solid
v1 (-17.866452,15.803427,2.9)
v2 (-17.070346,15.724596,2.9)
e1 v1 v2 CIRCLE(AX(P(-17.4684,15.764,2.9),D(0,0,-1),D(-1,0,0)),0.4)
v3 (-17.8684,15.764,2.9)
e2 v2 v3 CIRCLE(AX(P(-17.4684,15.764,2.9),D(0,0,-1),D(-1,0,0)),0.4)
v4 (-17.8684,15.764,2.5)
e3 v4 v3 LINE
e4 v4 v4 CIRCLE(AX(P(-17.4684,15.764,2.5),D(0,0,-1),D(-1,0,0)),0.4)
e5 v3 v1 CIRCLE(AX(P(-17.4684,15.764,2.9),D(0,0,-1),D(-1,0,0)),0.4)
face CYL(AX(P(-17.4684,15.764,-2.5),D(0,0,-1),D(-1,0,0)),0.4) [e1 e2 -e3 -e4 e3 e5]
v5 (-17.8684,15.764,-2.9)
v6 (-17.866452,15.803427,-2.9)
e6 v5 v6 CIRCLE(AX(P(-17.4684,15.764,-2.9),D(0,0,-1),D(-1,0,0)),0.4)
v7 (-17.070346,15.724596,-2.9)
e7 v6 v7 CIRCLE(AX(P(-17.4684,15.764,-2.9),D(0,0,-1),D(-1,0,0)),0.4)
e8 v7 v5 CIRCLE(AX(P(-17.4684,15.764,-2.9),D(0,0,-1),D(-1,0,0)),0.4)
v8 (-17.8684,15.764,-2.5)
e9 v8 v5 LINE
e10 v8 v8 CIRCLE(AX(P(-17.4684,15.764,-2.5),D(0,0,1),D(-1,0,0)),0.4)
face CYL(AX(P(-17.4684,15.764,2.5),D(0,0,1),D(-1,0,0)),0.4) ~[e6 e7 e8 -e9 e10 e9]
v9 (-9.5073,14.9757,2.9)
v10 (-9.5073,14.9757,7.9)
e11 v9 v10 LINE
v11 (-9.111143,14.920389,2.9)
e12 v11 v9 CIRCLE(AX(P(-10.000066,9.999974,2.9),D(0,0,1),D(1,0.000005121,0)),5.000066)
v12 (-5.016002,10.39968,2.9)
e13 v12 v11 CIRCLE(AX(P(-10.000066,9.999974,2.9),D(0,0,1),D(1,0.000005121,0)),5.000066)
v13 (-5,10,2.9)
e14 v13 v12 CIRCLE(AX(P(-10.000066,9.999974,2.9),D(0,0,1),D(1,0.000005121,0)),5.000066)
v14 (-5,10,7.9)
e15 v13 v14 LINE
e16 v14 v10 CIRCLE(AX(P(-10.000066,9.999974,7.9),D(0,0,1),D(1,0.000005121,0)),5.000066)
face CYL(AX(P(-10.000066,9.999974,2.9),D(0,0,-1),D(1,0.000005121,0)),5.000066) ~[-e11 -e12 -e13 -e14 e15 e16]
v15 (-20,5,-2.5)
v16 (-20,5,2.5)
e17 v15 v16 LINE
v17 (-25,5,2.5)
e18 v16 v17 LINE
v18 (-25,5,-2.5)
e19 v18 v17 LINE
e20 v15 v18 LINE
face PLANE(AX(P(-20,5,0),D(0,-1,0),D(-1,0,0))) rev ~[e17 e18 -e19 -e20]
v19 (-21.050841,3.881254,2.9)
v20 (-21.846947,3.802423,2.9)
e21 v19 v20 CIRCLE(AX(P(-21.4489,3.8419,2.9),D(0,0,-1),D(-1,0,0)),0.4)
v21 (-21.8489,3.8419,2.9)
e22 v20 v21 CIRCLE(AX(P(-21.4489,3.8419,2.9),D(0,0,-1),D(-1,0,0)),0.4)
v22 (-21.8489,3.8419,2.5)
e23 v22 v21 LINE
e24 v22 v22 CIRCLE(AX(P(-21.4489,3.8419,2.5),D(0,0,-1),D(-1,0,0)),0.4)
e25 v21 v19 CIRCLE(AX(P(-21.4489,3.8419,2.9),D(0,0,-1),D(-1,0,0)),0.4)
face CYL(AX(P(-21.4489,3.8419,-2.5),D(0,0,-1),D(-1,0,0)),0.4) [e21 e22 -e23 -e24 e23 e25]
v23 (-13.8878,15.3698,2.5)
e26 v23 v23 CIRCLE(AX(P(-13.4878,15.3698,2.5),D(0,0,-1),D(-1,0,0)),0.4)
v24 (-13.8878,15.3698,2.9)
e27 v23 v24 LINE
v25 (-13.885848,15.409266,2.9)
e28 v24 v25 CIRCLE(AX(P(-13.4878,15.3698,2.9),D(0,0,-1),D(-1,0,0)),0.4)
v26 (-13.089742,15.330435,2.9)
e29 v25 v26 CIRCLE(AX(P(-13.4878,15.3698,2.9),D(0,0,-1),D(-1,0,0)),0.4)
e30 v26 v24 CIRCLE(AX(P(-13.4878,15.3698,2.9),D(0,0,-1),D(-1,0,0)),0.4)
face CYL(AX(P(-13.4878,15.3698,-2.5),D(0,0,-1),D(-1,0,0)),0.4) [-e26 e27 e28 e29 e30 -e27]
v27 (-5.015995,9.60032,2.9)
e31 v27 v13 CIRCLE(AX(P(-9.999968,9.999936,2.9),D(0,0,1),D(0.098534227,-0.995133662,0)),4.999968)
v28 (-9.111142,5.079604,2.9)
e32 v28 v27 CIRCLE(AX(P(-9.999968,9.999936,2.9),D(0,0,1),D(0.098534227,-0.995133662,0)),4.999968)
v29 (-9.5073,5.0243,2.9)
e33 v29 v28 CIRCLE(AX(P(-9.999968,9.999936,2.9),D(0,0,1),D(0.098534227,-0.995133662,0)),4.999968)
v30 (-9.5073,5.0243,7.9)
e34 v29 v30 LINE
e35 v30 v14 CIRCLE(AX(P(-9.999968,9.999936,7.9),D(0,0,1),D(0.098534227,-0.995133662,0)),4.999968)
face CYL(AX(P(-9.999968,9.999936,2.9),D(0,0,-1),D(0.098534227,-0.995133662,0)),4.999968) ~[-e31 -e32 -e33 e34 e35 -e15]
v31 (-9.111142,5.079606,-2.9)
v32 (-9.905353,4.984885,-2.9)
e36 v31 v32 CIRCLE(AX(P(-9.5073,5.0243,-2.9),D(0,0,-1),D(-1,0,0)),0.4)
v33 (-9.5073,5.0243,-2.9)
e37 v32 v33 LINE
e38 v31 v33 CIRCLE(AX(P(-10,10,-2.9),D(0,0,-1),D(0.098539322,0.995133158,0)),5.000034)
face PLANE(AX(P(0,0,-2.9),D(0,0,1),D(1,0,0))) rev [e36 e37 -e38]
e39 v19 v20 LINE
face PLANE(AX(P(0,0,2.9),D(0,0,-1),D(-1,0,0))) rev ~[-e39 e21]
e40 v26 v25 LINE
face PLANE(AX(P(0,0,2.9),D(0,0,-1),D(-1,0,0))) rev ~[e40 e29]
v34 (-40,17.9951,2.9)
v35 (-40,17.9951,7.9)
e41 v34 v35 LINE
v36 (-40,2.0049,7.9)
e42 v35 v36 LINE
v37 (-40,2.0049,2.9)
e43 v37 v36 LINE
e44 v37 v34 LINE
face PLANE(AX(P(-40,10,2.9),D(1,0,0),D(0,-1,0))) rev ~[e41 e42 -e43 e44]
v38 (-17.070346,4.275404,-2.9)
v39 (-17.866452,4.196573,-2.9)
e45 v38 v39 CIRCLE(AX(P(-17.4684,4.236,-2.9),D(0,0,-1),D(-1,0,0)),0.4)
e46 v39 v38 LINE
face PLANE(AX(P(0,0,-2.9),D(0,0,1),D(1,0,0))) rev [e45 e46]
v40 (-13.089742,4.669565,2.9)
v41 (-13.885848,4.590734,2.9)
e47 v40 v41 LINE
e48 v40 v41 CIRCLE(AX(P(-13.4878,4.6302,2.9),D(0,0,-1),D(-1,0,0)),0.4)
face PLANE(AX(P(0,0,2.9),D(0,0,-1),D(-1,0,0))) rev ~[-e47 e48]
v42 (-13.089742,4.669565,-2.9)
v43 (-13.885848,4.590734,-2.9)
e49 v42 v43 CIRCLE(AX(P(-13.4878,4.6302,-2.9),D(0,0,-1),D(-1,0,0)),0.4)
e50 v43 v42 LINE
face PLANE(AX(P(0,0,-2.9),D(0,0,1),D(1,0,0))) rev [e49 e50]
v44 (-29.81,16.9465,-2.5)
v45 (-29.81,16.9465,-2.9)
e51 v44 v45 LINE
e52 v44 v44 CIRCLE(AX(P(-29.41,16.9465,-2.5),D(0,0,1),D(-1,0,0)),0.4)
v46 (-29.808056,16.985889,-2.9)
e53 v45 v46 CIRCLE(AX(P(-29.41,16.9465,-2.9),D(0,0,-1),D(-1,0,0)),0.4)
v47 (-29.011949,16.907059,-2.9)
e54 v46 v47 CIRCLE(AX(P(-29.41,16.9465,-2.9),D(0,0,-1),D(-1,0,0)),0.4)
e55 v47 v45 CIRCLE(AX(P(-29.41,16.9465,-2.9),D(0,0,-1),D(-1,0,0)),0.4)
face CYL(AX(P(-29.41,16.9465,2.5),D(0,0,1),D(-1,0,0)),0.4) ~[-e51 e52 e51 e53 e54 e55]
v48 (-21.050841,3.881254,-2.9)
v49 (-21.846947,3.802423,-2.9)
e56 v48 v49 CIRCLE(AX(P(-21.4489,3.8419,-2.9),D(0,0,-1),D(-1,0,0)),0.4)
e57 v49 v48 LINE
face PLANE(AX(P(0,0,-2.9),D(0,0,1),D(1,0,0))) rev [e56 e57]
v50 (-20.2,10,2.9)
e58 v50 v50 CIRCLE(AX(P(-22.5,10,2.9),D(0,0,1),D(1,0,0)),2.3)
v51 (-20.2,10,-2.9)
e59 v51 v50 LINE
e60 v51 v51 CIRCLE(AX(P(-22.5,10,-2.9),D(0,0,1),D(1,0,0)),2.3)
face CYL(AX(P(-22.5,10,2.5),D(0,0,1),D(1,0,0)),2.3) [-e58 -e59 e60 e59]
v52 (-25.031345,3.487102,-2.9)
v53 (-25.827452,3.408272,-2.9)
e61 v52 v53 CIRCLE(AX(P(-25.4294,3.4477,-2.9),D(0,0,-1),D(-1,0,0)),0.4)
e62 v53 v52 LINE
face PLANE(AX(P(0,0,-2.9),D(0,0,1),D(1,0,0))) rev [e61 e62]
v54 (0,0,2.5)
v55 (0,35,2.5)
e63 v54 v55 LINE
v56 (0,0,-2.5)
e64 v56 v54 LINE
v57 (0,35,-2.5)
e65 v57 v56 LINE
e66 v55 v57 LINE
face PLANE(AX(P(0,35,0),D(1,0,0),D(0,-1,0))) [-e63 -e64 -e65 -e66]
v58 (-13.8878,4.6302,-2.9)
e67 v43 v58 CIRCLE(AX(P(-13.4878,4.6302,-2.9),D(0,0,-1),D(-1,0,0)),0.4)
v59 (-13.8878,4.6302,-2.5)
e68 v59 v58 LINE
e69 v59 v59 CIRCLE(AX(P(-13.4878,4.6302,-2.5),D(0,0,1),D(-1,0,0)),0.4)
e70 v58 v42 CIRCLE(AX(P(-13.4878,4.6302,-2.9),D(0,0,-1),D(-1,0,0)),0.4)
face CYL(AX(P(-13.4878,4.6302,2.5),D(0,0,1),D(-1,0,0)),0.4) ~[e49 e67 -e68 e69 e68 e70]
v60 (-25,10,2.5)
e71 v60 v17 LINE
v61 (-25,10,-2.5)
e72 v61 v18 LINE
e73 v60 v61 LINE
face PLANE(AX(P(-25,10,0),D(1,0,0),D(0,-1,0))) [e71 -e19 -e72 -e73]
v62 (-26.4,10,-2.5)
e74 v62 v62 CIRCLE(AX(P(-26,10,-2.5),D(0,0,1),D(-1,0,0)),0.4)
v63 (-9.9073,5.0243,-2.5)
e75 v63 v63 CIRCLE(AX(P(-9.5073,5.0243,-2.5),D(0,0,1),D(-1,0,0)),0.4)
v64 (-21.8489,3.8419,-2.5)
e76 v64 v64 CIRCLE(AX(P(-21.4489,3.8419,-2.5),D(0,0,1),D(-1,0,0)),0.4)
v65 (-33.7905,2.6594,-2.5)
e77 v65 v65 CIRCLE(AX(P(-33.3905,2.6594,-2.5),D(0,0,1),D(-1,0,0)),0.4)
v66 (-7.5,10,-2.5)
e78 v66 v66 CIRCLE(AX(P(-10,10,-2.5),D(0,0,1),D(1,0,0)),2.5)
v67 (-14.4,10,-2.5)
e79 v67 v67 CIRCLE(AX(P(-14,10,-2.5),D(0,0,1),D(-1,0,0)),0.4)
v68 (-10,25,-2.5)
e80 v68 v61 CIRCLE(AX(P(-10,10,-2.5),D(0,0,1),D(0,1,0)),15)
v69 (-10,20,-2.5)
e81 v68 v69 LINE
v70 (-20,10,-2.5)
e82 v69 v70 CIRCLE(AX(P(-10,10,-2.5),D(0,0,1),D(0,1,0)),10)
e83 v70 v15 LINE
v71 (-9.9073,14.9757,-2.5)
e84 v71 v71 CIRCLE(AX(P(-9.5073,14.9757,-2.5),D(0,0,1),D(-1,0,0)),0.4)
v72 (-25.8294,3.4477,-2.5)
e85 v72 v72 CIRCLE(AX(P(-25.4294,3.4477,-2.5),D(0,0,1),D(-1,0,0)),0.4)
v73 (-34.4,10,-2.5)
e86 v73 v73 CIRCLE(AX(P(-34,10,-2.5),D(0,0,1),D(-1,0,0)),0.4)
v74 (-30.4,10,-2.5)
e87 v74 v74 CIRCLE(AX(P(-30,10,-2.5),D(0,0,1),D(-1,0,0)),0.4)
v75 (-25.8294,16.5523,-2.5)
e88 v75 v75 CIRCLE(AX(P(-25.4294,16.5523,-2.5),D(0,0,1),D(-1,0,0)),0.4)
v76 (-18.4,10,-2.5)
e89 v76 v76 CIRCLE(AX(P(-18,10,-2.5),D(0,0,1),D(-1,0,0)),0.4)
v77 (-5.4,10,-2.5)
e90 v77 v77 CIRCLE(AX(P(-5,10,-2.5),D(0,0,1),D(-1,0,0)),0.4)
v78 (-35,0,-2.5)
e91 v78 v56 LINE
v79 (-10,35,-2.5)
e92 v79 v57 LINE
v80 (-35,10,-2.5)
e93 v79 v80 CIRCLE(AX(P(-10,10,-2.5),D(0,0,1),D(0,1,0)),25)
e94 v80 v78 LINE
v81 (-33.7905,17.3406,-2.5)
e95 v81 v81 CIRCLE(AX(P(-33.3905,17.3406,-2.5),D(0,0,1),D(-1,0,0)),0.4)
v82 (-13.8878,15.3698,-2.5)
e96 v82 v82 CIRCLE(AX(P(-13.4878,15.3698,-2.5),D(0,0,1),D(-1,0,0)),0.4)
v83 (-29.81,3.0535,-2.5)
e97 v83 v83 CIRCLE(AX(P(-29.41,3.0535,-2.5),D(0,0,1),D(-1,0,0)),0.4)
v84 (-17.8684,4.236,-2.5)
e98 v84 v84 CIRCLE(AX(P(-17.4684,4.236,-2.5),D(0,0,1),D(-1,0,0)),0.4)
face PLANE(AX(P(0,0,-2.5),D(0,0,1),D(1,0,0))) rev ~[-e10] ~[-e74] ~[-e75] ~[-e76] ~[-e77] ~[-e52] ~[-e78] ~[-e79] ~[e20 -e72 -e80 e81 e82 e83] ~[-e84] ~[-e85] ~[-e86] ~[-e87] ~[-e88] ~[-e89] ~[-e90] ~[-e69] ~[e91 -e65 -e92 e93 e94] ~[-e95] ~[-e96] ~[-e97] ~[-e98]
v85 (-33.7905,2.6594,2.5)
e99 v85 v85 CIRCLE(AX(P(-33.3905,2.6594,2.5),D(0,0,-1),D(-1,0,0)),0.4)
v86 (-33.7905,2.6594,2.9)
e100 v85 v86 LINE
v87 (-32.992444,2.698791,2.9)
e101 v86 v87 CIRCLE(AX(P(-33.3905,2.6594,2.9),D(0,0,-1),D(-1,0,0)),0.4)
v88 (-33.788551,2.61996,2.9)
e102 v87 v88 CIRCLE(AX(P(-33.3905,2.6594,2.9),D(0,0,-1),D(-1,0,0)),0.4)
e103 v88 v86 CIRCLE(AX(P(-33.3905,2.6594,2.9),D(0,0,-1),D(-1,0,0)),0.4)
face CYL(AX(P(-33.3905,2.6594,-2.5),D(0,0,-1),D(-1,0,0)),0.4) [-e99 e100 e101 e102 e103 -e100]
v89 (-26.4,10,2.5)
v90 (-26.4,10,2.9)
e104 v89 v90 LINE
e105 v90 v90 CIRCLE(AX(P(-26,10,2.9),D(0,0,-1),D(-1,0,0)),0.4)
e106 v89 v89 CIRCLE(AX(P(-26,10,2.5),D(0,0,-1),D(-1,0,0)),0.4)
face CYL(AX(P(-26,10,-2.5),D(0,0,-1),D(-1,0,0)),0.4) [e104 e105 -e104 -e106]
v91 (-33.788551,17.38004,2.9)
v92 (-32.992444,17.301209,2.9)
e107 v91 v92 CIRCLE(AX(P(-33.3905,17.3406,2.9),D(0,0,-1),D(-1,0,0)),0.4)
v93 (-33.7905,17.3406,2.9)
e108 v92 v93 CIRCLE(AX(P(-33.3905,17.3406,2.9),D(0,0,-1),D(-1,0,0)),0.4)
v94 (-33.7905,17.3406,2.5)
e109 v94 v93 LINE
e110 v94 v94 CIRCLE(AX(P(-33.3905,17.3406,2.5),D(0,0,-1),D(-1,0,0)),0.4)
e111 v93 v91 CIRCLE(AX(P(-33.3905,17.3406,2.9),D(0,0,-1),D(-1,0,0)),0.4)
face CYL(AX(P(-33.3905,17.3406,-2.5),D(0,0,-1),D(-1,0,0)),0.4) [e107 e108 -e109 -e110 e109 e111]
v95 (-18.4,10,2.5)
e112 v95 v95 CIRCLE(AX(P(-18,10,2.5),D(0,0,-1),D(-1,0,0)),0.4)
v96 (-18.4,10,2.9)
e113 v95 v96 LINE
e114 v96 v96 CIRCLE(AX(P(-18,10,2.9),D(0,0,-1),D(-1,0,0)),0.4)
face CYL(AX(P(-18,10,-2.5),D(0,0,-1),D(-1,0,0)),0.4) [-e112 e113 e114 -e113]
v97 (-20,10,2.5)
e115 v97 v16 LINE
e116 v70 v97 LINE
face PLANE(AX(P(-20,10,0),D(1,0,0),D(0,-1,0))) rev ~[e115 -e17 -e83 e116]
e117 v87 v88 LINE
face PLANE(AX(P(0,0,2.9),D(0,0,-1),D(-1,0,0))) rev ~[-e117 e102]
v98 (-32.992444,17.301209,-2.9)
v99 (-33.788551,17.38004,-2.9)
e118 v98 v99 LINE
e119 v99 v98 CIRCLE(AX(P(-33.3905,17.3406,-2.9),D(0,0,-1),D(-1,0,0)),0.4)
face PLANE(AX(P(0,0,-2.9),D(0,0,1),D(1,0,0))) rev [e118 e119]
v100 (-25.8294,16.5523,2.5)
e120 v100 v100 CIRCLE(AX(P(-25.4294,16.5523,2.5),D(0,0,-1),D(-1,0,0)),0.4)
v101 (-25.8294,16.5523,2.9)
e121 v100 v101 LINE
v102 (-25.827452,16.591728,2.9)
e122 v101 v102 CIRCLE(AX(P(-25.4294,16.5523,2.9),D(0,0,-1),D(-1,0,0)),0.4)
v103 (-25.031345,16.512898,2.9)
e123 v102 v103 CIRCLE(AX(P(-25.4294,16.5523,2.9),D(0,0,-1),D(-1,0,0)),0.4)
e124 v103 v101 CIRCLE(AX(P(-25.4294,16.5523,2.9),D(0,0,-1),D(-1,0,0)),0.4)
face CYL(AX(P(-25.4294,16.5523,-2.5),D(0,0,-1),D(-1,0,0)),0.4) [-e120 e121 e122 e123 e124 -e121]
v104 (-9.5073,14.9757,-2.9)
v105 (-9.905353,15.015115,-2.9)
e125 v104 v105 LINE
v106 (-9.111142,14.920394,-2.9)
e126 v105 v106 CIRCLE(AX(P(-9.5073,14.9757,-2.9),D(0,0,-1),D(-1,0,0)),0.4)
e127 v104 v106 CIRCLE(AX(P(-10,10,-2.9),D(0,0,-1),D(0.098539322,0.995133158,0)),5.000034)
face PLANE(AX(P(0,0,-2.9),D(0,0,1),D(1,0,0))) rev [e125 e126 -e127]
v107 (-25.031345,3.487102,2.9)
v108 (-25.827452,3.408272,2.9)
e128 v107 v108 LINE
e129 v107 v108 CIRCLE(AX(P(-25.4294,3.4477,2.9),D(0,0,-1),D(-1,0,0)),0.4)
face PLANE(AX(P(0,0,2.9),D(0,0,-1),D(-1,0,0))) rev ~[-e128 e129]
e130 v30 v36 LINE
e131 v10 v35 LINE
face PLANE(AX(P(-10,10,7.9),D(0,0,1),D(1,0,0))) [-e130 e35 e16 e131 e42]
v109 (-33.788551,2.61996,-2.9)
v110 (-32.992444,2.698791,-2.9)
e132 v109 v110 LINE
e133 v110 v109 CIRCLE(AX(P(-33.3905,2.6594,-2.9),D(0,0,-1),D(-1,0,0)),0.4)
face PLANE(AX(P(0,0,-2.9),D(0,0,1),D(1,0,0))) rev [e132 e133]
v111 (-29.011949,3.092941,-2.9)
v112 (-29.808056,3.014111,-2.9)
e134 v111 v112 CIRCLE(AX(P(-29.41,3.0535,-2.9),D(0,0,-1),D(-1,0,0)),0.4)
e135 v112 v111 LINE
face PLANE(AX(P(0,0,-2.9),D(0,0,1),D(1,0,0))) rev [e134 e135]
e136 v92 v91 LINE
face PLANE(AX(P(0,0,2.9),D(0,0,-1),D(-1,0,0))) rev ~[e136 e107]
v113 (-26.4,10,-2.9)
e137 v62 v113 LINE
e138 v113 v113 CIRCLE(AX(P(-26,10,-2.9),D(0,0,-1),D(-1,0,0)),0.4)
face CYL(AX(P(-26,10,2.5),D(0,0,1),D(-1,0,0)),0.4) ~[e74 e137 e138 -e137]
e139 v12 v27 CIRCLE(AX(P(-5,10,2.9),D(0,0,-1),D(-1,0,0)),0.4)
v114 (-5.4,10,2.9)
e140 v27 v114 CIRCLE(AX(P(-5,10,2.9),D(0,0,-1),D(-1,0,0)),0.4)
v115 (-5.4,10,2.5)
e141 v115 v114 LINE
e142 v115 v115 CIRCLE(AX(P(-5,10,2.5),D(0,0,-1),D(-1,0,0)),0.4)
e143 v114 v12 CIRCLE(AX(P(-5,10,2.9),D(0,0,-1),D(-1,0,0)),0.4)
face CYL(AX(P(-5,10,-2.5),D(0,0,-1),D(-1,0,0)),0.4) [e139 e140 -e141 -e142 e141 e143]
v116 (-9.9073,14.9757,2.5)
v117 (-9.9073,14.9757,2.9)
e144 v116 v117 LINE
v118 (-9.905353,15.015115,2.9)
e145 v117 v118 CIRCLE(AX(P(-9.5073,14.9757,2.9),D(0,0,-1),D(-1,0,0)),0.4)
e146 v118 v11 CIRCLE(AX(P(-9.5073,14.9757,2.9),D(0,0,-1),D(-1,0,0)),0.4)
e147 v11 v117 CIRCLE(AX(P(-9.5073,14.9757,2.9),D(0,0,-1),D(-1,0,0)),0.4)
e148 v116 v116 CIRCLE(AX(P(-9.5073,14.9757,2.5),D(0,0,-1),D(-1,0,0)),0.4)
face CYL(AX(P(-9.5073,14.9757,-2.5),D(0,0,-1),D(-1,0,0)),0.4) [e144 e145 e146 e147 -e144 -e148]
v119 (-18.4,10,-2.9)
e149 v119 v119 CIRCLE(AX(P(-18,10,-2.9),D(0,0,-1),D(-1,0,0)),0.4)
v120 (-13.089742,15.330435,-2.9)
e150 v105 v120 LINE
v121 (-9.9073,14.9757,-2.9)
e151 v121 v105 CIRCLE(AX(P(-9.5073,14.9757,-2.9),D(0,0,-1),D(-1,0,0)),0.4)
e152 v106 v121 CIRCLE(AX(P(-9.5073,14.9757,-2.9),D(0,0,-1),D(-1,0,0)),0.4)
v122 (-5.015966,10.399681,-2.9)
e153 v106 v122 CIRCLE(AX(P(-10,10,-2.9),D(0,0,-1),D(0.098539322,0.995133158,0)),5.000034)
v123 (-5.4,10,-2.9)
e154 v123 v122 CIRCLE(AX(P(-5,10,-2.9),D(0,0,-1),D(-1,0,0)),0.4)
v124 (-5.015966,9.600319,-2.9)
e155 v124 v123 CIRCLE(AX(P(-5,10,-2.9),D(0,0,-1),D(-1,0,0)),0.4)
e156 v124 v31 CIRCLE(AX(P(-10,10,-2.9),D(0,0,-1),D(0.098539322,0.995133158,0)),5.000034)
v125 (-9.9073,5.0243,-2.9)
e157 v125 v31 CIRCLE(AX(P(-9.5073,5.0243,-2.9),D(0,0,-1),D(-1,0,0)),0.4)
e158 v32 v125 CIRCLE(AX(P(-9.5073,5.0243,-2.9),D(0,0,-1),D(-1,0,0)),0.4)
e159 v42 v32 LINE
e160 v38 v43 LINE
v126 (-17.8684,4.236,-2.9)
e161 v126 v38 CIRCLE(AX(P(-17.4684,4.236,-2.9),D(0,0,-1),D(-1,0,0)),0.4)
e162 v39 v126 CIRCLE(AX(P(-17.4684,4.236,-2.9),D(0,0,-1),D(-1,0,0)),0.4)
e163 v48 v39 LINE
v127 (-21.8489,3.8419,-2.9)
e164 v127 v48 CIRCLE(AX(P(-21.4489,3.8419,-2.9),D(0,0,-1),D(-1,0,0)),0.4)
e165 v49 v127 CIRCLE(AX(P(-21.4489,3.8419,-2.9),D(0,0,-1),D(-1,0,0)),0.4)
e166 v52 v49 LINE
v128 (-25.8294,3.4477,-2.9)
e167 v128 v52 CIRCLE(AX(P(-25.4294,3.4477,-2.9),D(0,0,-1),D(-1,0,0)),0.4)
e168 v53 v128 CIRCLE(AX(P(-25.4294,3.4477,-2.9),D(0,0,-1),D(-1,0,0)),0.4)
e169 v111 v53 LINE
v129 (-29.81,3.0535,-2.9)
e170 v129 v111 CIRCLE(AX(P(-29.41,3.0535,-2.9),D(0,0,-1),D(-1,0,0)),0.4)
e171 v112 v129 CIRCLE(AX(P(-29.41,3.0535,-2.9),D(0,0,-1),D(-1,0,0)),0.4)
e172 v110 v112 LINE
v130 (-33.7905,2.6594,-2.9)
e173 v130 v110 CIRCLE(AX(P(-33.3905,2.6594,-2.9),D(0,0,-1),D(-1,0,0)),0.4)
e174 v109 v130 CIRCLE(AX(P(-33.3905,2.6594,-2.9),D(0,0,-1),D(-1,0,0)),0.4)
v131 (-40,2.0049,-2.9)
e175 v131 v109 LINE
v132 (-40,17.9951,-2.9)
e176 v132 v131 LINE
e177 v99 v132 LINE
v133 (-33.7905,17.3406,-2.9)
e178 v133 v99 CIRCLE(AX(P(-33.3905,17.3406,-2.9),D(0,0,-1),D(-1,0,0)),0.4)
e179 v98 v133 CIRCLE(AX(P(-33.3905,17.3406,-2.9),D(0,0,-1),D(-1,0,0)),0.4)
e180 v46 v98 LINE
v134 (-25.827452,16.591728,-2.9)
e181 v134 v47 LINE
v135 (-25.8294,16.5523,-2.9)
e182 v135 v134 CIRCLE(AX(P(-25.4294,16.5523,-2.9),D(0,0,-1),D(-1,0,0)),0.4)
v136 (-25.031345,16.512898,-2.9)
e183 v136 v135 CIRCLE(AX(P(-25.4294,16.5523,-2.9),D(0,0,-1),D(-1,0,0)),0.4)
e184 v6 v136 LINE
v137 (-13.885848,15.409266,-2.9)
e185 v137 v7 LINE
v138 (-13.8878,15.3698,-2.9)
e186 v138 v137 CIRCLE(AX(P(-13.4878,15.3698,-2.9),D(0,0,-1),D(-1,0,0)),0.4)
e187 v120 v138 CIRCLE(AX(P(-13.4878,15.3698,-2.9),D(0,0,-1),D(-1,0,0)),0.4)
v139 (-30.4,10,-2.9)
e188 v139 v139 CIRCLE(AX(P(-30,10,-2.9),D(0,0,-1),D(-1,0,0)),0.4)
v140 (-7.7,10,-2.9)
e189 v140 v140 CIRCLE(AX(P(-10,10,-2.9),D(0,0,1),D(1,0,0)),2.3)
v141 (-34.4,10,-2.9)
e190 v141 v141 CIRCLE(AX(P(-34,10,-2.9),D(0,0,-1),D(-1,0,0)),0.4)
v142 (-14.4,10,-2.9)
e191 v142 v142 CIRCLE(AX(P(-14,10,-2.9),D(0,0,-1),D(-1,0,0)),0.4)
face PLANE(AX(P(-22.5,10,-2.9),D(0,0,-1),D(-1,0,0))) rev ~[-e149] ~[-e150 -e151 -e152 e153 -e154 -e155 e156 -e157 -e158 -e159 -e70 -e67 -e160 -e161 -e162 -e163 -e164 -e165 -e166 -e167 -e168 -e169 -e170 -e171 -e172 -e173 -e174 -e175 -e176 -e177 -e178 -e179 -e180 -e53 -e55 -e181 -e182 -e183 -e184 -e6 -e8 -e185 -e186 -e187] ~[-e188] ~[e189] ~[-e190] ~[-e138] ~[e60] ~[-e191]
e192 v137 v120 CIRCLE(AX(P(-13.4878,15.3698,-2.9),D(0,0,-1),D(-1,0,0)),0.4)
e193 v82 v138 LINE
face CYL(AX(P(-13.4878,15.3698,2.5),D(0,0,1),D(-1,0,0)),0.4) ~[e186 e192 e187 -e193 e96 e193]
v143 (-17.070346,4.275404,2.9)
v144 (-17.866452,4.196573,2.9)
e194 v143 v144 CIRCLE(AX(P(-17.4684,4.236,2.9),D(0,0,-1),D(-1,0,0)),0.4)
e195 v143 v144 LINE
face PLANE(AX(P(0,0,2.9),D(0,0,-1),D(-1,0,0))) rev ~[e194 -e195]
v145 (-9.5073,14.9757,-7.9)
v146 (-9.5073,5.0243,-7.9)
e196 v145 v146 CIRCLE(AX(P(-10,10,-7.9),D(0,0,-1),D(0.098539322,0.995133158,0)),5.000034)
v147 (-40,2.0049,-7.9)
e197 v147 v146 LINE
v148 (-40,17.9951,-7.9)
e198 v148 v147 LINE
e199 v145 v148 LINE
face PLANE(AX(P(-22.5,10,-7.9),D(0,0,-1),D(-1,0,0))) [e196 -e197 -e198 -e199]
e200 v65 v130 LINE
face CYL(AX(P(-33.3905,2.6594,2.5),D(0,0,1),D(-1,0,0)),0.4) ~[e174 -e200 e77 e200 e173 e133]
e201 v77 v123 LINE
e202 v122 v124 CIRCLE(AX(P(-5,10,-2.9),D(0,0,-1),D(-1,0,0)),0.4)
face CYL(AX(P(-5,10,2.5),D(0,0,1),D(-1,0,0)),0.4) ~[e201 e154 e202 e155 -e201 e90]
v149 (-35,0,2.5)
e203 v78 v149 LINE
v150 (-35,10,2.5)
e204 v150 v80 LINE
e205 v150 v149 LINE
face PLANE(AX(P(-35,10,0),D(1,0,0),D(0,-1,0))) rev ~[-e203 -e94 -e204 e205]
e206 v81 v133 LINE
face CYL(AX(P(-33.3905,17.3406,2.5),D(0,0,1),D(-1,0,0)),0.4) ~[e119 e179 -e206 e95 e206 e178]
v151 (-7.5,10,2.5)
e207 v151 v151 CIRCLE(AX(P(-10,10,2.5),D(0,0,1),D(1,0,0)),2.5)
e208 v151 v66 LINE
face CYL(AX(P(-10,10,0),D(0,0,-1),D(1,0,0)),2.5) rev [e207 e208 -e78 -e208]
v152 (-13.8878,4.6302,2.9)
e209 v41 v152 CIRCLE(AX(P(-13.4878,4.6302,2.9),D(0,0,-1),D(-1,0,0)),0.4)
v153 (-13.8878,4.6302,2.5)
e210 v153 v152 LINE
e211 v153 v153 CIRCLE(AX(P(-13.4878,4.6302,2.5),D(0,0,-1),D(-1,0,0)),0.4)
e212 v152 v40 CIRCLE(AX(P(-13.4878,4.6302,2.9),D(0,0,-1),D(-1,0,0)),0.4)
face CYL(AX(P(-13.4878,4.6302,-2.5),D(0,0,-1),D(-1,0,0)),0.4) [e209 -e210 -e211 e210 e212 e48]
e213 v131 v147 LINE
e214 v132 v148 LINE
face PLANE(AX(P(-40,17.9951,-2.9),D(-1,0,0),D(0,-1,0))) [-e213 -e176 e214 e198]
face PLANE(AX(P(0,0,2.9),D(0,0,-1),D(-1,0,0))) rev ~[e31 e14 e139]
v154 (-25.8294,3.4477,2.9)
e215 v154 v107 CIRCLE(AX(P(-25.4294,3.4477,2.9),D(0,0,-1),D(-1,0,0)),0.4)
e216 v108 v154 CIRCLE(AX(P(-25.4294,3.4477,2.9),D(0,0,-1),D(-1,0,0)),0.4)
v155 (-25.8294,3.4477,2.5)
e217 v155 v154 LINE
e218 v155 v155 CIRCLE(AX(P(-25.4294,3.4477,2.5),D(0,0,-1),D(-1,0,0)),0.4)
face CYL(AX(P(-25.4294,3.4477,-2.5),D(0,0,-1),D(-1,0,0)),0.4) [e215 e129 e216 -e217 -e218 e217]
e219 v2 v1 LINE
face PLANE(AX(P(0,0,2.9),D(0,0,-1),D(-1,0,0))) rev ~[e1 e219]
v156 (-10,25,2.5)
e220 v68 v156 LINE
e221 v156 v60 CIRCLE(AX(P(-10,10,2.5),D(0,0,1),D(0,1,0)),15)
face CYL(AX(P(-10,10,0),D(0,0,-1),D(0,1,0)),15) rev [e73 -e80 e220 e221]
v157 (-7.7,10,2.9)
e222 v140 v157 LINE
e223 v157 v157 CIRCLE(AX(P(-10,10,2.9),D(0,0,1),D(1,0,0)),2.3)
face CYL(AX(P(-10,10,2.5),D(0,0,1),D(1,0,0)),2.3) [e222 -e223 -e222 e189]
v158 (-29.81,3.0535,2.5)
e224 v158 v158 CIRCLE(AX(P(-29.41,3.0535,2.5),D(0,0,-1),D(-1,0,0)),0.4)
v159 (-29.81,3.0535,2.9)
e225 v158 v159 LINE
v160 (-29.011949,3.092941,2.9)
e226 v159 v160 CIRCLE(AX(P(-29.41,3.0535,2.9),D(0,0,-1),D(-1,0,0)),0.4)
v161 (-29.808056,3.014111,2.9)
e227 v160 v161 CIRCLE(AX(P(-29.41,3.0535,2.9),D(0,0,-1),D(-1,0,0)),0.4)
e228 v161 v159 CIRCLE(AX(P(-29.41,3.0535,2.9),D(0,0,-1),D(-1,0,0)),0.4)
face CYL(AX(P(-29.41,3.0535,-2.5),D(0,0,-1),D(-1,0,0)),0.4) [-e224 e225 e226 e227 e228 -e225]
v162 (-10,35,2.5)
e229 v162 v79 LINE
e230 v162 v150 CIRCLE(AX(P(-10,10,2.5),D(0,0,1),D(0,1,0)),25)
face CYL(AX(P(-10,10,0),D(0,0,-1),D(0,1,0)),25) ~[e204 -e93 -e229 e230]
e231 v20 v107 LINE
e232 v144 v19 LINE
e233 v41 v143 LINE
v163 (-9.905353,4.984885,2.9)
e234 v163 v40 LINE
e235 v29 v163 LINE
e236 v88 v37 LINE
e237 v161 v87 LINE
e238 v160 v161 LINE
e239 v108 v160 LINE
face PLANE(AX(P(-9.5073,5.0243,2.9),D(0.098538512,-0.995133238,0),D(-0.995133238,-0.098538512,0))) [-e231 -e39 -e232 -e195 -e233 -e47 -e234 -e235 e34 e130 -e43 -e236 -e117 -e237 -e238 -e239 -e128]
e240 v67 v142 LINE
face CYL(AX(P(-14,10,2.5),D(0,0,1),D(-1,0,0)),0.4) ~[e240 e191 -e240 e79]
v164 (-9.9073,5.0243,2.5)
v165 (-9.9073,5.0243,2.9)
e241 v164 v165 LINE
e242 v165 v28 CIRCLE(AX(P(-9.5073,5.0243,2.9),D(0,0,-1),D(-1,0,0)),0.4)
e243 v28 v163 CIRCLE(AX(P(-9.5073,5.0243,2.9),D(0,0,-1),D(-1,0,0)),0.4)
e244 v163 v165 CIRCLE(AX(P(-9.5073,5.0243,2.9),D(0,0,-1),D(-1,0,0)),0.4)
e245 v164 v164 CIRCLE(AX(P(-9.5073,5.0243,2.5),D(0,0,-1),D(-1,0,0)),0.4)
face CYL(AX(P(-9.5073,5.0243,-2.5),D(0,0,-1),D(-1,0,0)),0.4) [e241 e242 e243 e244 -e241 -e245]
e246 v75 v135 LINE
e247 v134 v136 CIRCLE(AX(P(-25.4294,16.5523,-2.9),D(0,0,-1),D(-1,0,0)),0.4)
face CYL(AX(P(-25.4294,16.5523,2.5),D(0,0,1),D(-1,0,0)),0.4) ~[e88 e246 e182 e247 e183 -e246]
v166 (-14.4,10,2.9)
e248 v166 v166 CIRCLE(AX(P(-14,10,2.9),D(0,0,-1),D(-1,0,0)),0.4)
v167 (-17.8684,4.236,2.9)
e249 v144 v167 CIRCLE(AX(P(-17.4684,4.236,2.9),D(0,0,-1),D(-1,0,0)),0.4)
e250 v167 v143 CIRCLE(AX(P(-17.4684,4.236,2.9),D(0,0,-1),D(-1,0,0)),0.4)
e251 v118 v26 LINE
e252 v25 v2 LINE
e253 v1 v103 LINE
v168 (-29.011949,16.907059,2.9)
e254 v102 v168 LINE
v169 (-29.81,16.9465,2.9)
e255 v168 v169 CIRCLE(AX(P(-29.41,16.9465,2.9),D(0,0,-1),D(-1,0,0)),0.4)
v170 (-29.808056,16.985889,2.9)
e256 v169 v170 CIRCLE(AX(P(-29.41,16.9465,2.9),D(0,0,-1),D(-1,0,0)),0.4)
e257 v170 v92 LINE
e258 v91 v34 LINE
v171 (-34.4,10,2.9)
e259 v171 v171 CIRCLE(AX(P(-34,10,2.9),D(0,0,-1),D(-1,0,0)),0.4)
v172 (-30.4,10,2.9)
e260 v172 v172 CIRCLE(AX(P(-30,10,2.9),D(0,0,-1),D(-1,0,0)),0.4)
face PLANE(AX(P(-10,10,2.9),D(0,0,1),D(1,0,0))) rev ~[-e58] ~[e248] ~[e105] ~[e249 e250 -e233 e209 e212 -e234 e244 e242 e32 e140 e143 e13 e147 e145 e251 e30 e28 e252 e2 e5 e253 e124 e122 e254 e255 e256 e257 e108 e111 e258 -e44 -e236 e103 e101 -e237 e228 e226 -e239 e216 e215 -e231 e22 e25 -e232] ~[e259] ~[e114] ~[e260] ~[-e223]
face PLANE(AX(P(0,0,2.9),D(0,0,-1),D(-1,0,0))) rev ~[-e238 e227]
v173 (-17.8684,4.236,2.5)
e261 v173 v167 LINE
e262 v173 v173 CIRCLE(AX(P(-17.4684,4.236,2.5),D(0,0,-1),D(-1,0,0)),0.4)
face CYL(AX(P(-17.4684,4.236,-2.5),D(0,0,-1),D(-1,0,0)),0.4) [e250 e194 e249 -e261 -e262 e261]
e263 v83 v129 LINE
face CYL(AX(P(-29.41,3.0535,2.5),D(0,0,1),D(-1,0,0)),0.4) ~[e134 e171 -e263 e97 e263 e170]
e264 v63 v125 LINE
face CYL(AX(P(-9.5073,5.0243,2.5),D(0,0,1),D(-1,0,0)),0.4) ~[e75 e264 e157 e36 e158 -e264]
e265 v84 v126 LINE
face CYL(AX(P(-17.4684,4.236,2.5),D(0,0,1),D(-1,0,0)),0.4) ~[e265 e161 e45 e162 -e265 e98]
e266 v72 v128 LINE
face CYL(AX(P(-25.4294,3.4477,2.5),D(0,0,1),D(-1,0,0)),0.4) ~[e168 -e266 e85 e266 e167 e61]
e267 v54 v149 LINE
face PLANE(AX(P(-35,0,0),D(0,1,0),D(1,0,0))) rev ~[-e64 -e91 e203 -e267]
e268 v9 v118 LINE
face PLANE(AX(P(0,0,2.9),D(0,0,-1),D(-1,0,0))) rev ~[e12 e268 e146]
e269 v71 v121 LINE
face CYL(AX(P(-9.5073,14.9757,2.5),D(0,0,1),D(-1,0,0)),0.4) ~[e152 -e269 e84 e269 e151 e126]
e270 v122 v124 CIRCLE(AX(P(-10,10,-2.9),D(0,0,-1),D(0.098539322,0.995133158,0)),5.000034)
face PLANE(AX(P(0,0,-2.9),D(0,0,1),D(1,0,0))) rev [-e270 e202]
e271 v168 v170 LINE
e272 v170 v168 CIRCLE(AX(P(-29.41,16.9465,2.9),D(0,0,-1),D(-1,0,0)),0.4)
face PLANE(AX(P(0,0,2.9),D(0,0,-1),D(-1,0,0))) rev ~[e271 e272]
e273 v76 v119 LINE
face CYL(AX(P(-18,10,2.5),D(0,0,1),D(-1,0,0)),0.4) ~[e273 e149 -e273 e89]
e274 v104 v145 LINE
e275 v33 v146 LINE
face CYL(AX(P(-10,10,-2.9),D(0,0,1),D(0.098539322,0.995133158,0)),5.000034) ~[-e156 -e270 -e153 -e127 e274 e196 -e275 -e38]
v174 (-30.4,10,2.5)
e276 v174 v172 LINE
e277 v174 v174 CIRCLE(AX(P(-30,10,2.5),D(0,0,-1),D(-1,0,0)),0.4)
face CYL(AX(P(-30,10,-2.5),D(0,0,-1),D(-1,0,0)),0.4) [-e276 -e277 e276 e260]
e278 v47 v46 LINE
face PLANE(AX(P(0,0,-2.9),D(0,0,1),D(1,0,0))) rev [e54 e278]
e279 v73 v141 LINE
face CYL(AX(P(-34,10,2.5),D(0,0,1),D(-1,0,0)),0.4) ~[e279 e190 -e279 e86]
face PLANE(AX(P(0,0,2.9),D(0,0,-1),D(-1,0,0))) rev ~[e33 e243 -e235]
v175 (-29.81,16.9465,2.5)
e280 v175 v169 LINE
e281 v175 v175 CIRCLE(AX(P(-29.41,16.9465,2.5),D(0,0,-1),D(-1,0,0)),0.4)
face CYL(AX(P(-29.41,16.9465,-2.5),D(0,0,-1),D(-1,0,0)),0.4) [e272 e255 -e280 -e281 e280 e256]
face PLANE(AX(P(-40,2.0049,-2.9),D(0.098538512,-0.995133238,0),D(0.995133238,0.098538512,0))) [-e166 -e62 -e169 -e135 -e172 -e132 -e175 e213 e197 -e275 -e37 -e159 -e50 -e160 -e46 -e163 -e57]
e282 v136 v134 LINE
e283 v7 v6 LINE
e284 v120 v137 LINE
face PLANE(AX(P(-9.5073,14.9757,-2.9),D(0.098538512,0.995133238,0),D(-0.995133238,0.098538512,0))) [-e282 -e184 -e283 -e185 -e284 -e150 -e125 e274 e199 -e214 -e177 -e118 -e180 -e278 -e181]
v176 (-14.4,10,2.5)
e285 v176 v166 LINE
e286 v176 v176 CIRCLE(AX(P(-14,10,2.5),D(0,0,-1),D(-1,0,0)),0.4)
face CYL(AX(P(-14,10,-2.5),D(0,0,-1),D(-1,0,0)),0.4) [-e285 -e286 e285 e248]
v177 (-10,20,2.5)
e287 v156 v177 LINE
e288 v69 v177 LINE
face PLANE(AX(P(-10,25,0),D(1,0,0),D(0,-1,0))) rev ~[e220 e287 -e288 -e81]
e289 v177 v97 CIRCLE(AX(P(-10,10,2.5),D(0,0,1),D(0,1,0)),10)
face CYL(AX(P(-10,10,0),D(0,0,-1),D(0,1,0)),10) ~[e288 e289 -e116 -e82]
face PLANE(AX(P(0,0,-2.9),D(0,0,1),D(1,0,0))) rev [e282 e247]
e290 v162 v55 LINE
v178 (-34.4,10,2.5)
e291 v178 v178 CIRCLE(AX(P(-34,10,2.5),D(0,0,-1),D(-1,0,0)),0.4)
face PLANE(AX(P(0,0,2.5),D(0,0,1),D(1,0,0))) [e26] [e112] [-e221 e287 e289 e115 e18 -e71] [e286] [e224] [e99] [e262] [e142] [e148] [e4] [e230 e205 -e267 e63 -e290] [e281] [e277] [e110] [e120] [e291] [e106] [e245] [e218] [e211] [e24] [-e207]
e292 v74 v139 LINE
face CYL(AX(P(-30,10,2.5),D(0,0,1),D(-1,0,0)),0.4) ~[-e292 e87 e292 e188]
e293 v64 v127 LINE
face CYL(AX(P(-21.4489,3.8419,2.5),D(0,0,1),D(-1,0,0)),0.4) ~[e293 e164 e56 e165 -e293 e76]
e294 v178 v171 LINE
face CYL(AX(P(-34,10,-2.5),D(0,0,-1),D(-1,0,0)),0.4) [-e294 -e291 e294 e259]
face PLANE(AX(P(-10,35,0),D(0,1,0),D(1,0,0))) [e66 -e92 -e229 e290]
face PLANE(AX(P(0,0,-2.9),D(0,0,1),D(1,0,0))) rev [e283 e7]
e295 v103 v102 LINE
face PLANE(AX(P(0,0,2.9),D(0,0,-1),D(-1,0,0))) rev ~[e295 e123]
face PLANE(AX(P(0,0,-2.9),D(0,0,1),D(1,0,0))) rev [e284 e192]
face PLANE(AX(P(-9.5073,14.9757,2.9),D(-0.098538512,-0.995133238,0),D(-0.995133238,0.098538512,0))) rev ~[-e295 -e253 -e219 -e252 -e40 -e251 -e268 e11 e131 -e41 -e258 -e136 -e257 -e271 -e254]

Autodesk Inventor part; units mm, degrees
ref_plane "YZ Plane" through (0, 0, 0) normal (1, 0, 0) x (0, 1, 0)
ref_plane "XZ Plane" through (0, 0, 0) normal (0, 1, 0) x (-1, 0, 0)
ref_plane "XY Plane" through (0, 0, 0) normal (0, 0, 1) x (1, 0, 0)
sketch "Boceto1" plane through (0, 0, 0) normal (0, 0, 1) x (1, 0, 0)
  line L0 (-35, 0) -> (15, 0)
  line L1 (-20, 10) -> (-20, 0)
  arc A0 (-10, 20) -> (-20, 10) centre (-10, 10) ccw
  arc A1 (-10, 25) -> (-25, 10) centre (-10, 10) ccw
  line L2 (-25, 10) -> (-25, 0)
  arc A2 (-10, 35) -> (-35, 10) centre (-10, 10) ccw
  line L3 (-35, 10) -> (-35, 0)
  line L4 (-35, 0) -> (-10, 0)
  circle A3 centre (-10, 10) radius 2.5
  line L5 (-10, 20) -> (0, 20)
  line L6 (0, 20) -> (0, 21.1803)
  line L7 (0, 25) -> (-10, 25)
  line L8 (-10, 35) -> (0, 35)
  line L9 (0, 35) -> (0, 25)
  line L10 (0, 20) -> (0, 0)
  line L11 (0, 0) -> (-10, 0)
  line L12 (0, 25) -> (0, 20)
  line L13 (-10, 25) -> (-10, 20)
  line L14 (-20, 5) -> (-25, 5)
  point P0 (0, 0)
  dimension "d0" = 20
  dimension "d1" = 25
  dimension "d2" = 10
  dimension "d3" = 10
  dimension "d4" = 5
  dimension "d6" = 35
extrude "Extrusión1" add sketch "Boceto1" along normal mid plane 5 contours L3 A2 L8 L9 L7 A1 L2 L0 | L2 L14 L1 L0 | L1 A0 L5 L10 L0 | L7 L12 L6 L5 L13
sketch "Boceto2" plane through (0, 0, 2.5) normal (0, 0, 1) x (1, 0, 0)
  circle A0 centre (-10, 10) radius 2.3
  circle A1 centre (-22.5, 10) radius 2.3
  circle A2 centre (-10, 10) radius 2.5 projected
  point P0 (0, 0)
  dimension "d9" = 4.6
  dimension "d10" = 4.6
extrude "Extrusión2" add sketch "Boceto2" along normal blind 0.4 and the other way blind 5.4 contours A0 | A1
sketch "Boceto3" plane through (-10, 10, 2.9) normal (0, 0, 1) x (1, 0, 0)
  arc A0 (5, 0) -> (0.4927, 4.9757) centre (0, 0) ccw
  line L0 (-30, 0) -> (-30, 7.9951)
  line L1 (0.4927, 4.9757) -> (-30, 7.9951)
  line L2 (-30, 0) -> (-30, -7.9951)
  line L3 (0.4927, -4.9757) -> (-30, -7.9951)
  arc A1 (0.4927, -4.9757) -> (5, 0) centre (0, 0) ccw
  circle A2 centre (0, 0) radius 2.3 projected
  point P0 (10, -10)
  dimension "d15" = 10
extrude "Extrusión3" add sketch "Boceto3" along normal blind 5 contours A1 L3 L2 L0 L1 A0 | A2
sketch "Boceto4" plane through (-22.5, 10, -2.9) normal (0, 0, -1) x (-1, 0, 0)
  circle A0 centre (0, 0) radius 2.3 projected
  circle A1 centre (-12.5, 0) radius 2.3 projected
  line L0 (-12.9927, 4.9757) -> (17.5, 7.9951) projected
  arc A2 (-12.9927, 4.9757) -> (-12.9927, -4.9757) centre (-12.5, 0) ccw projected
  line L1 (17.5, -7.9951) -> (-12.9927, -4.9757) projected
  line L2 (17.5, 7.9951) -> (17.5, -7.9951) projected
  point P0 (-22.5, -10)
extrude "Extrusión4" add sketch "Boceto4" along normal blind 5 contours A0 | A1 | L0 L2 L1 A2
sketch "Boceto5" plane through (0, 0, -2.5) normal (0, 0, -1) x (-1, 0, 0)
  arc A0 (9.5073, 14.9757) -> (9.5073, 5.0243) centre (10, 10) ccw construction
  circle A1 centre (5, 10) radius 0.4
  circle A2 centre (9.5073, 14.9757) radius 0.4
  line L0 (9.5073, 14.9757) -> (40, 17.9951) projected
  circle A3 centre (13.4878, 15.3698) radius 0.4
  circle A4 centre (17.4684, 15.764) radius 0.4
  circle A5 centre (21.4489, 16.1581) radius 0.4
  circle A6 centre (25.4294, 16.5523) radius 0.4
  circle A7 centre (29.41, 16.9465) radius 0.4
  circle A8 centre (33.3905, 17.3406) radius 0.4
  line L1 (-2.4318, 10) -> (67.5847, 10) construction
  arc A9 (9.5073, 14.9757) -> (9.5073, 5.0243) centre (10, 10) ccw
  circle A10 centre (9.5073, 5.0243) radius 0.4
  line L2 (9.5073, 5.0243) -> (40, 2.0049)
  circle A11 centre (13.4878, 4.6302) radius 0.4
  circle A12 centre (17.4684, 4.236) radius 0.4
  circle A13 centre (21.4489, 3.8419) radius 0.4
  circle A14 centre (25.4294, 3.4477) radius 0.4
  circle A15 centre (29.41, 3.0535) radius 0.4
  circle A16 centre (33.3905, 2.6594) radius 0.4
  circle A17 centre (10, 10) radius 0.4
  circle A18 centre (14, 10) radius 0.4
  circle A19 centre (18, 10) radius 0.4
  circle A20 centre (22, 10) radius 0.4
  circle A21 centre (26, 10) radius 0.4
  circle A22 centre (30, 10) radius 0.4
  circle A23 centre (34, 10) radius 0.4
  point P0 (0, 0)
  dimension "d45" = 0.8
  dimension "d46" = 0.8
  dimension "d49" = 4
  dimension "d54" = 0.8
  dimension "d57" = 4
extrude "Extrusión5" add sketch "Boceto5" against normal up to surface (5.4 mm away) contours A1 A9 | A16 L2 | L2 A16 | A15 L2 | L2 A15 | A14 L2 | L2 A14 | A13 L2 | L2 A13 | A12 L2 | L2 A12 | A11 L2 | L2 A11 | A10 L2 A9 | A9 L2 A10 | A8 L0 | L0 A8 | A7 L0 | L0 A7 | A6 L0 | L0 A6 | A4 L0 | L0 A4 | A3 L0 | L0 A3 | A2 L0 A9 | A9 L0 A2 | A9 A1 | A18 | A19 | A21 | A22 | A23
mirror "Simetría1" about plane through (0, 0, 0) normal (0, 0, 1) of "Extrusión5"
properties part number "Prueba de soportes mecanismo_3DPrint"
